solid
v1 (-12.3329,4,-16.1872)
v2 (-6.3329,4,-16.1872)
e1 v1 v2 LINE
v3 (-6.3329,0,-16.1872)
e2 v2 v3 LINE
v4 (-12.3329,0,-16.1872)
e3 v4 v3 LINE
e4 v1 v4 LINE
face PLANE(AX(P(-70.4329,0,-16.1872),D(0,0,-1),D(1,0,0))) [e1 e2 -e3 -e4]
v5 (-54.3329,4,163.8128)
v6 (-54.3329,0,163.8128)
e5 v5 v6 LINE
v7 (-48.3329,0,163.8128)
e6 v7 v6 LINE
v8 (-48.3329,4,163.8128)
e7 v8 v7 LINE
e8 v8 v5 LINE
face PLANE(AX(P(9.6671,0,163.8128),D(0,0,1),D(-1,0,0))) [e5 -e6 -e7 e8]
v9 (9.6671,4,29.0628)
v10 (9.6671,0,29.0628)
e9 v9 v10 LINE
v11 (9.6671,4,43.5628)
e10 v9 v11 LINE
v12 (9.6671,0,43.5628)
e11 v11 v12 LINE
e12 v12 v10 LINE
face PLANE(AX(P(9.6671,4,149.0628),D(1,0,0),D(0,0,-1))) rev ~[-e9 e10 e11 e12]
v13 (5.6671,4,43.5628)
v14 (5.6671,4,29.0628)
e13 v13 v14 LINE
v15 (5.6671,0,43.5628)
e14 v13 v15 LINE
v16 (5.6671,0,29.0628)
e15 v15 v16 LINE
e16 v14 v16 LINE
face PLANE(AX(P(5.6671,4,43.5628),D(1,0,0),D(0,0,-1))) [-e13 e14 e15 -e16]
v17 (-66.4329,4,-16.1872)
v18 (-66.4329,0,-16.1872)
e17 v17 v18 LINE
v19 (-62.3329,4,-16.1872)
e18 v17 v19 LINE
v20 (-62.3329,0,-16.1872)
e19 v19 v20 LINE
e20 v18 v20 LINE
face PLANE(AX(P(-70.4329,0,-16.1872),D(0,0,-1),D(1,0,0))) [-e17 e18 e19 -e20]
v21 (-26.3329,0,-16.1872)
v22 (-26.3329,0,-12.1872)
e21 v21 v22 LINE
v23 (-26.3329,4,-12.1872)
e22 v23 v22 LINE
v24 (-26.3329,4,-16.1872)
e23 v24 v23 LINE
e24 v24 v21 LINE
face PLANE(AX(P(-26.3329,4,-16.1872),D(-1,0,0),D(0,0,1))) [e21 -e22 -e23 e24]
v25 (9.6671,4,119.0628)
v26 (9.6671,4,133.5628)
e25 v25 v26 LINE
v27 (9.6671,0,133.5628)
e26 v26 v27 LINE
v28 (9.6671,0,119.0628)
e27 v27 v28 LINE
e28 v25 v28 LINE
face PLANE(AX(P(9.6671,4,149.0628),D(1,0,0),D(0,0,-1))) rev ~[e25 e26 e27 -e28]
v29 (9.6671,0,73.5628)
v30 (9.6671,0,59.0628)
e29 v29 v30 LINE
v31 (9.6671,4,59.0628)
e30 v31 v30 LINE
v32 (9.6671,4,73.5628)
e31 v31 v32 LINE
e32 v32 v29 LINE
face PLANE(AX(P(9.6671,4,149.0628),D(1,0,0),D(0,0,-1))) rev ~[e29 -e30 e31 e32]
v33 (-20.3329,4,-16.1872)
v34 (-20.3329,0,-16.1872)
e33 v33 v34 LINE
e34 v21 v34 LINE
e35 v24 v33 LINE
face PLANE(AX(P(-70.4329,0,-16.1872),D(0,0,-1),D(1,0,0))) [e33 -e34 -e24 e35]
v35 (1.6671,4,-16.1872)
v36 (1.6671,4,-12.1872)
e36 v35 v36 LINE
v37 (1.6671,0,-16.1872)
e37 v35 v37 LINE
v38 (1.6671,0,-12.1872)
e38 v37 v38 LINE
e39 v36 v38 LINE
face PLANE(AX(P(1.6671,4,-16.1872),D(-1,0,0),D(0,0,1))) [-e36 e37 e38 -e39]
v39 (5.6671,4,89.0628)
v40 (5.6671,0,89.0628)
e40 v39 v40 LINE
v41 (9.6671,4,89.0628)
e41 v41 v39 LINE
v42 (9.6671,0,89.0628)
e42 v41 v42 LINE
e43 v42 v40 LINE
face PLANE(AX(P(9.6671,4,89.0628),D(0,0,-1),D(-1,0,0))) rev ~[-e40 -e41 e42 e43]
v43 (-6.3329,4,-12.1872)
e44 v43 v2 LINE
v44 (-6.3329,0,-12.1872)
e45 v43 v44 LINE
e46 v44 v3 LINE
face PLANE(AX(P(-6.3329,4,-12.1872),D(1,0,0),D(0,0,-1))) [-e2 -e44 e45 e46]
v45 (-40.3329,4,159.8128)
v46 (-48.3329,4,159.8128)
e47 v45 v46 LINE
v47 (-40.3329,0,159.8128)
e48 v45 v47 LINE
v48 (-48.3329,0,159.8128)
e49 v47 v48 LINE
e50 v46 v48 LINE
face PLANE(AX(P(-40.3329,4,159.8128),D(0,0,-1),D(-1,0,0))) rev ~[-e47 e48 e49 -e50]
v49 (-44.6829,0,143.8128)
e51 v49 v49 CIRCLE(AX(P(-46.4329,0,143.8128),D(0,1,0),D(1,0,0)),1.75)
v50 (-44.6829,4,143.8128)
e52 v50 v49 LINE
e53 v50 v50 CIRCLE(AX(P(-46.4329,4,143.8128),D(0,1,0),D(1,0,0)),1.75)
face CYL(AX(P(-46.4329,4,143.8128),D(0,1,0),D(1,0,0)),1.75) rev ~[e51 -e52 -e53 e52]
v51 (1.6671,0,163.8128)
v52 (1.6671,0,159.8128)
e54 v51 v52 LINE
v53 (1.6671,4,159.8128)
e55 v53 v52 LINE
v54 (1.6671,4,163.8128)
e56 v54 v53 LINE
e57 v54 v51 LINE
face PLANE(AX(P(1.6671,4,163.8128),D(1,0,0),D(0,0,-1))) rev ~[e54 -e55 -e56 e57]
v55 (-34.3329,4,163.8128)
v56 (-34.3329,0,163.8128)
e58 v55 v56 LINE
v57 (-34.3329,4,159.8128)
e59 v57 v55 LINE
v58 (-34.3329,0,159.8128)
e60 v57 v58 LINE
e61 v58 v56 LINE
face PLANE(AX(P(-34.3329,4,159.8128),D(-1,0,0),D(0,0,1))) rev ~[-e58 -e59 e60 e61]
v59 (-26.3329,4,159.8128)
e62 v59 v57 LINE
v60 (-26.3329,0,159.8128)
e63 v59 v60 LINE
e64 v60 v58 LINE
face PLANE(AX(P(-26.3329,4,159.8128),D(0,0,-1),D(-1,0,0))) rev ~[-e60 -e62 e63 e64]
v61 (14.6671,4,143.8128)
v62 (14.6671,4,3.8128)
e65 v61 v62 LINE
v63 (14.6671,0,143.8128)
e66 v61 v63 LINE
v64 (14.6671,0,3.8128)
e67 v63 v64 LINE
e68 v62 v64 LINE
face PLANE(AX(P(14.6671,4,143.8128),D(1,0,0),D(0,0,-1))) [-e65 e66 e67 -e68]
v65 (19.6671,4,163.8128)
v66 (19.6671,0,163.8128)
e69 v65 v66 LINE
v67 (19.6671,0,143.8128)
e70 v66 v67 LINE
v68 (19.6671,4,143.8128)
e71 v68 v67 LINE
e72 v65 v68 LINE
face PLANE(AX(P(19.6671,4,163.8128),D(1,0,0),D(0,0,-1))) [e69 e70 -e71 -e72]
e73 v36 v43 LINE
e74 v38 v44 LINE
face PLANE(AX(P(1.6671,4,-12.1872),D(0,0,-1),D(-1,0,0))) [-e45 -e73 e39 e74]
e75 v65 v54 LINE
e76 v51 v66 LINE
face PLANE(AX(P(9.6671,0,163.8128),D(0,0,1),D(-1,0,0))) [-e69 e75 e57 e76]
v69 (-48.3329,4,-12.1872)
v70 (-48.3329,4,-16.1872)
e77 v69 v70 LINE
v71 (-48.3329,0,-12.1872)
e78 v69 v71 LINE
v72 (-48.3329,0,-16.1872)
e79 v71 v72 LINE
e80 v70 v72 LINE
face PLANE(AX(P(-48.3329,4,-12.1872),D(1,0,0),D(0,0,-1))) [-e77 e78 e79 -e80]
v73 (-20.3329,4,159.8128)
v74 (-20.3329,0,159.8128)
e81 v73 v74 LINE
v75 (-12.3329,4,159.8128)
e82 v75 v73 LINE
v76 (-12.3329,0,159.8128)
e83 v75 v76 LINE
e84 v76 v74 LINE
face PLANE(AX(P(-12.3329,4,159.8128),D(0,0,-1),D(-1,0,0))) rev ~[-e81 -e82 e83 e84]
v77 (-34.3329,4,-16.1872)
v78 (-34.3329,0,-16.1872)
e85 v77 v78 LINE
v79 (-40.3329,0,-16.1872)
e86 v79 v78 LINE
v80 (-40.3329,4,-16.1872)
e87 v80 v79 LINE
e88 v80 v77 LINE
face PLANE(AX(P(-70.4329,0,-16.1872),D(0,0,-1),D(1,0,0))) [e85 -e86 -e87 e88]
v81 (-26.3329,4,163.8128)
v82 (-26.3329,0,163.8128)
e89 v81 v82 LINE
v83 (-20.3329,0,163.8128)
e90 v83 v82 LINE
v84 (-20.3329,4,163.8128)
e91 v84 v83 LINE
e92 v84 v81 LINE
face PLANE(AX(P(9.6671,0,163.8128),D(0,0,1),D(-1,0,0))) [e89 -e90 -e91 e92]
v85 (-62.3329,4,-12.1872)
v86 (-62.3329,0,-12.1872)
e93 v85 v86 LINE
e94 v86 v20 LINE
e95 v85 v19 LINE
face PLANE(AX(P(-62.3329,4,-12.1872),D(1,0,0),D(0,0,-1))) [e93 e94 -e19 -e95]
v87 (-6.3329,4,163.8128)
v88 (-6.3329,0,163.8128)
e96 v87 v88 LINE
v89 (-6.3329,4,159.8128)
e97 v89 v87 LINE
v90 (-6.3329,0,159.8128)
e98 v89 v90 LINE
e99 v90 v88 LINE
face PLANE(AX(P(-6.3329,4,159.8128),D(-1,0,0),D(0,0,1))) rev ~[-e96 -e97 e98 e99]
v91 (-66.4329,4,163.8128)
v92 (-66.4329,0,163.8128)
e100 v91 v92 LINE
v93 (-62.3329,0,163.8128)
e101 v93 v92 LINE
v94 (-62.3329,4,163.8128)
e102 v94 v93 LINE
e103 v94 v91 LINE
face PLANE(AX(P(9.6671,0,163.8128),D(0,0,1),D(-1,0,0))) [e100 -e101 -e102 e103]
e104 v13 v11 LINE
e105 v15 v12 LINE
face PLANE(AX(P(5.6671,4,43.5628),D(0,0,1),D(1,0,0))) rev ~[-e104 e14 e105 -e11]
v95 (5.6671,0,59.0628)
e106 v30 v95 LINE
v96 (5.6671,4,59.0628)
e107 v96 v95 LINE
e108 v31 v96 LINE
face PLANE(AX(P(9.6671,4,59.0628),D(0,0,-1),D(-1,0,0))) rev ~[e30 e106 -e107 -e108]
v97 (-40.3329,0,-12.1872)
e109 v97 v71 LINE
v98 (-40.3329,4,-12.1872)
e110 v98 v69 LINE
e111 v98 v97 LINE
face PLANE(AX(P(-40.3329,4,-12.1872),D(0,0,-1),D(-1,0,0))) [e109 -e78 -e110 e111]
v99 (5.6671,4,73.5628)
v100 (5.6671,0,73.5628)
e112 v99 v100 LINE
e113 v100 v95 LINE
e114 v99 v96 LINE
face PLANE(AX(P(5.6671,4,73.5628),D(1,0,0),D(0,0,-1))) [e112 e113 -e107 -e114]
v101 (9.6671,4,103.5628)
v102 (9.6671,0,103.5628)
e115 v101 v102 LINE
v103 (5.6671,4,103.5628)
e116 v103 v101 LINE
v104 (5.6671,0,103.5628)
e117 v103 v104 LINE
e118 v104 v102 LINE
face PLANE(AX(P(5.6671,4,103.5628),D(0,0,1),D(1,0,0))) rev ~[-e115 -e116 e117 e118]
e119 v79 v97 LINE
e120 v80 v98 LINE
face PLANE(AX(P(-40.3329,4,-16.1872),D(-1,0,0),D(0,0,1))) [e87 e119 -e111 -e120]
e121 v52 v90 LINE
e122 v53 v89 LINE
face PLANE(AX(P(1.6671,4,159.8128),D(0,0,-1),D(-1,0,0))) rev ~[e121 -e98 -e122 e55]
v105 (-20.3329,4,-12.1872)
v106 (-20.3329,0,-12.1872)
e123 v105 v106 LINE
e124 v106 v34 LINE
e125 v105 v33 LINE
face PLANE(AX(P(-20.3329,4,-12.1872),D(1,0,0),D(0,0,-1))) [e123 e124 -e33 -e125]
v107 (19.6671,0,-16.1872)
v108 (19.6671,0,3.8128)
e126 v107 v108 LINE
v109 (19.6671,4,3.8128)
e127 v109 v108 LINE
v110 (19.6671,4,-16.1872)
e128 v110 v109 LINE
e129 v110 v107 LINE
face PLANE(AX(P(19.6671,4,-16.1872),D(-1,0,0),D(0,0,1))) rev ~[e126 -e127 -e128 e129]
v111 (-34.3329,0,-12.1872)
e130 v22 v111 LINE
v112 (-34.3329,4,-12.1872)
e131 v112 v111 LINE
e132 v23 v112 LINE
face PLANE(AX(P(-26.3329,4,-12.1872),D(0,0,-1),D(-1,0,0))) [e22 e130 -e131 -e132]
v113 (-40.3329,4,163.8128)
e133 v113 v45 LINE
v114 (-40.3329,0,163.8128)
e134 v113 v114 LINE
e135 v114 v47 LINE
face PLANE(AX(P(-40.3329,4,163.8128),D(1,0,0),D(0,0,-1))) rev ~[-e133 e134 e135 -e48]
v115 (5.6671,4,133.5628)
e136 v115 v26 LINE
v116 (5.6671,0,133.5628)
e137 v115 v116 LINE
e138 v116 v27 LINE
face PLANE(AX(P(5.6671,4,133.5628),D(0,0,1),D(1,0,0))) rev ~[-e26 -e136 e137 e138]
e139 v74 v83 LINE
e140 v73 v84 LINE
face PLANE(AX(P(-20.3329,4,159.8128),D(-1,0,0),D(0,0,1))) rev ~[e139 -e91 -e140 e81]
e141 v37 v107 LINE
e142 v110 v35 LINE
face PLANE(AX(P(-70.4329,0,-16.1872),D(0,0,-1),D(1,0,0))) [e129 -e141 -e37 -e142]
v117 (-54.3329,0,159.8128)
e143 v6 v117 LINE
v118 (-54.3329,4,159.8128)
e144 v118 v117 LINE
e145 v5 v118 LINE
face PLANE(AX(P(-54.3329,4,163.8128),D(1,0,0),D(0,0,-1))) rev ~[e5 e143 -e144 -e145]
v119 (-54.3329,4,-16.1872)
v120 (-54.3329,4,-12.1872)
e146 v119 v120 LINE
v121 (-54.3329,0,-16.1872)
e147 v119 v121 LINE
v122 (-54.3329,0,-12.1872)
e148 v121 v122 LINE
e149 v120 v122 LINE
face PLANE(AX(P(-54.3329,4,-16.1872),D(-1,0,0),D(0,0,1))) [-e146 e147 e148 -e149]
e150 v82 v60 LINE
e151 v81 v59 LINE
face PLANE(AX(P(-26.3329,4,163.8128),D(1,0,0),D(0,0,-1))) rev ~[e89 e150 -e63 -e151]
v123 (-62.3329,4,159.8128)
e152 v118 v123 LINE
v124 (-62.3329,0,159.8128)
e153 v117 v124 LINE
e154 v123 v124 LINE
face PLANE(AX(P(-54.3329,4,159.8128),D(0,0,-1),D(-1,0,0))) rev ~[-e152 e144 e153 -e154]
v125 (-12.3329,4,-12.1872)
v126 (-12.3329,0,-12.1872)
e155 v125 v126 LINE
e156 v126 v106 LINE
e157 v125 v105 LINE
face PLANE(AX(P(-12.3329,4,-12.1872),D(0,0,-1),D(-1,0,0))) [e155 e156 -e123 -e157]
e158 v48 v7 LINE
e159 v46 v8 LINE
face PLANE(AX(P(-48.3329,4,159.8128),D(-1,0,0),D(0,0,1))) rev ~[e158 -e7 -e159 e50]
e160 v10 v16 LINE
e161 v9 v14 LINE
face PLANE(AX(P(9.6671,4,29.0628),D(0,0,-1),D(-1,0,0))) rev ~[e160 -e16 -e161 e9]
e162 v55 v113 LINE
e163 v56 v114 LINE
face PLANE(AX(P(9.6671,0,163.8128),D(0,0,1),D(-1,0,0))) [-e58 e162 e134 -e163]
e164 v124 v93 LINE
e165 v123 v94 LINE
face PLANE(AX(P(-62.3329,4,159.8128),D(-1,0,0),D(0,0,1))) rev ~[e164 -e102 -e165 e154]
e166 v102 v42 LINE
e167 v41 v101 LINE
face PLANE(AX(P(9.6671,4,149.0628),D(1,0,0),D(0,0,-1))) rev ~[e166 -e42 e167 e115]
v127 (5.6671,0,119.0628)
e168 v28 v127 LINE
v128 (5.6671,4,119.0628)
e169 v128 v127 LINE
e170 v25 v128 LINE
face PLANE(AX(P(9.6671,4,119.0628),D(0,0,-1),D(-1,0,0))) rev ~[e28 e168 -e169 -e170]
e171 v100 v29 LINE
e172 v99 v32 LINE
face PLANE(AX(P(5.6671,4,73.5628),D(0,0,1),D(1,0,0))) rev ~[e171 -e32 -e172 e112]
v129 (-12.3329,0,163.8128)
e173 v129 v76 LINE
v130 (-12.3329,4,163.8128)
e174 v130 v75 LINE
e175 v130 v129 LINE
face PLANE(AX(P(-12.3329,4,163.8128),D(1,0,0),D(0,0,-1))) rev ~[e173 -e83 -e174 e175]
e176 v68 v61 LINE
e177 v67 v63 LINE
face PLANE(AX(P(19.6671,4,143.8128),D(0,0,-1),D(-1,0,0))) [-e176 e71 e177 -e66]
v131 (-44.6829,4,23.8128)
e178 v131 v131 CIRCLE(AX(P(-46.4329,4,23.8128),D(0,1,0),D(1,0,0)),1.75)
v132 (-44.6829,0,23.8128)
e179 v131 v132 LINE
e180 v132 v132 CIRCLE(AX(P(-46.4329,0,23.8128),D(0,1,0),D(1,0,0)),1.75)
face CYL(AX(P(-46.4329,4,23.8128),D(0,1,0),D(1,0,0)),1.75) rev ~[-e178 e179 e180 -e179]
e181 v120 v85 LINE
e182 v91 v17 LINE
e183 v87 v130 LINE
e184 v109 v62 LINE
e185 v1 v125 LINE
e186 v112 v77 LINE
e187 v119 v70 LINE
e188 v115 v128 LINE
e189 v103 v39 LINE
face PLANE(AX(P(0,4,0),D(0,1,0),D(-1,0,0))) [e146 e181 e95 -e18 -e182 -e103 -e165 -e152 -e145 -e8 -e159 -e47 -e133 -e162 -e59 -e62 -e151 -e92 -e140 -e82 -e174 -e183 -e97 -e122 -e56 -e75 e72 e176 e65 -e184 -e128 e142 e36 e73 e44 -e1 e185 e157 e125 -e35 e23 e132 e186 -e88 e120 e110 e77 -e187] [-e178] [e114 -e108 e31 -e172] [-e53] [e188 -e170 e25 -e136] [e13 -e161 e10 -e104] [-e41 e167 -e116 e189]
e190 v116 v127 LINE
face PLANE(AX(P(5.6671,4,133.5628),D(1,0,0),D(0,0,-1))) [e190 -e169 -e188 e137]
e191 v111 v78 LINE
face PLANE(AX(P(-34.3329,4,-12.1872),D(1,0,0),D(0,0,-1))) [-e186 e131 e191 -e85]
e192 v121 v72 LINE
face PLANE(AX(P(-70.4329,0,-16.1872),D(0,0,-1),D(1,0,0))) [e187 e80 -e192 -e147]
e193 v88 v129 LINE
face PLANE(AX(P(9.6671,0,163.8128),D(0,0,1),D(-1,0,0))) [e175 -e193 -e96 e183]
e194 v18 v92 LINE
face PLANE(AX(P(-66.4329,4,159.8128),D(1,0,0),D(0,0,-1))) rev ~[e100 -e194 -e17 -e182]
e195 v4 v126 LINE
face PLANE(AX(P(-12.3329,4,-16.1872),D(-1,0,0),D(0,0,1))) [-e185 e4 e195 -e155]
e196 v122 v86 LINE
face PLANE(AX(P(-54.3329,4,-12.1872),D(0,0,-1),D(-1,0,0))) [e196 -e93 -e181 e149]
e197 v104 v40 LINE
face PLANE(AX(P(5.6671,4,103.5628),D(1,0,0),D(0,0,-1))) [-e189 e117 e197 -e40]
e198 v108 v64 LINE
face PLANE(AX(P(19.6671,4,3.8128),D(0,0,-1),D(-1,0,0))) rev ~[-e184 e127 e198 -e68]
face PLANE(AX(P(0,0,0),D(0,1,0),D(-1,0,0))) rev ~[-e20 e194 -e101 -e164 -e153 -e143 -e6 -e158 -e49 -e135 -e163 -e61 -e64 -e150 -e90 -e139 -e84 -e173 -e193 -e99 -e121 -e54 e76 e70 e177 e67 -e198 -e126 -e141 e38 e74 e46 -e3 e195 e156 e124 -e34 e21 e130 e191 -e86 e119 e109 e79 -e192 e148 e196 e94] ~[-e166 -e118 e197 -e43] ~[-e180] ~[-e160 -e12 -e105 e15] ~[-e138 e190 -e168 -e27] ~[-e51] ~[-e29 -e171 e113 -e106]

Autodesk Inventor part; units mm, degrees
ref_plane "YZ Plane" through (0, 0, 0) normal (1, 0, 0) x (0, 1, 0)
ref_plane "XZ Plane" through (0, 0, 0) normal (0, 1, 0) x (-1, 0, 0)
ref_plane "XY Plane" through (0, 0, 0) normal (0, 0, 1) x (1, 0, 0)
sketch "Sketch1" plane through (0, 0, 0) normal (0, 1, 0) x (-1, 0, 0)
  line L0 (-9.6671, 163.8128) -> (70.4329, 163.8128)
  line L1 (70.4329, 163.8128) -> (70.4329, -16.1872)
  line L2 (70.4329, -16.1872) -> (-9.6671, -16.1872)
  line L3 (-9.6671, -16.1872) -> (-9.6671, 163.8128)
  point P0 (0, 0)
extrude "Extrusion1" add sketch "Sketch1" along normal blind 4
sketch "Sketch2" plane through (0, 4, 0) normal (0, 1, 0) x (1, 0, 0)
  line L0 (-66.4329, -159.8128) -> (-66.4329, -148.8128)
  line L1 (-70.4329, -159.8128) -> (-70.4329, -148.8128)
  line L2 (-66.4329, -159.8128) -> (-66.4329, -148.8128) projected
  line L3 (-70.4329, -159.8128) -> (-70.4329, -148.8128) projected
  line L4 (-70.4329, -159.8128) -> (-70.4329, -148.8128) projected
  line L5 (-70.4329, -163.8128) -> (9.6671, -163.8128) projected
  line L6 (-30.3829, -163.8128) -> (-30.3829, 16.1872) construction
  line L7 (9.6671, 16.1872) -> (-70.4329, 16.1872) projected
  line L8 (-70.4329, 0.9372) -> (-66.4329, 0.9372)
  line L9 (-66.4329, -13.5628) -> (-70.4329, -13.5628)
  line L10 (-66.4329, -43.5628) -> (-70.4329, -43.5628)
  line L11 (-70.4329, -29.0628) -> (-66.4329, -29.0628)
  line L12 (-66.4329, -73.5628) -> (-70.4329, -73.5628)
  line L13 (-70.4329, -59.0628) -> (-66.4329, -59.0628)
  line L14 (-66.4329, -103.5628) -> (-70.4329, -103.5628)
  line L15 (-70.4329, -89.0628) -> (-66.4329, -89.0628)
  line L16 (-66.4329, -133.5628) -> (-70.4329, -133.5628)
  line L17 (-70.4329, -119.0628) -> (-66.4329, -119.0628)
  line L18 (5.6671, -159.8128) -> (5.6671, -148.8128)
  line L19 (9.6671, -159.8128) -> (9.6671, -148.8128)
  line L20 (5.6671, -133.8128) -> (5.6671, -118.8128)
  line L21 (9.6671, -133.8128) -> (9.6671, -118.8128)
  line L22 (5.6671, -103.8128) -> (5.6671, -88.8128)
  line L23 (9.6671, -103.8128) -> (9.6671, -88.8128)
  line L24 (5.6671, -73.8128) -> (5.6671, -58.8128)
  line L25 (9.6671, -73.8128) -> (9.6671, -58.8128)
  line L26 (5.6671, -43.8128) -> (5.6671, -28.8128)
  line L27 (9.6671, -43.8128) -> (9.6671, -28.8128)
  line L28 (5.6671, -13.8128) -> (5.6671, 1.1872)
  line L29 (9.6671, -13.8128) -> (9.6671, 1.1872)
  line L30 (9.6671, -149.0628) -> (5.6671, -149.0628)
  line L31 (5.6671, -159.5628) -> (9.6671, -159.5628)
  line L32 (9.6671, 0.9372) -> (5.6671, 0.9372)
  line L33 (5.6671, -13.5628) -> (9.6671, -13.5628)
  line L34 (5.6671, -43.5628) -> (9.6671, -43.5628)
  line L35 (9.6671, -29.0628) -> (5.6671, -29.0628)
  line L36 (5.6671, -73.5628) -> (9.6671, -73.5628)
  line L37 (9.6671, -59.0628) -> (5.6671, -59.0628)
  line L38 (5.6671, -103.5628) -> (9.6671, -103.5628)
  line L39 (9.6671, -89.0628) -> (5.6671, -89.0628)
  line L40 (5.6671, -133.5628) -> (9.6671, -133.5628)
  line L41 (9.6671, -119.0628) -> (5.6671, -119.0628)
  line L42 (-66.4329, -148.8128) -> (-70.4329, -148.8128)
  line L43 (-66.4329, -159.8128) -> (-70.4329, -159.8128)
  line L44 (-66.4329, -148.8128) -> (-70.4329, -148.8128)
  line L45 (-66.4329, -159.8128) -> (-70.4329, -159.8128) projected
  line L46 (-66.4329, -163.8128) -> (-66.4329, -89.0628)
  line L47 (-66.4329, -103.5628) -> (-66.4329, -73.5628)
  line L48 (-66.4329, -89.0628) -> (-66.4329, -43.5628)
  line L49 (-66.4329, -43.5628) -> (-66.4329, -13.5628)
  line L50 (-66.4329, -13.5628) -> (-66.4329, 16.1872)
  line L51 (-70.4329, 16.1872) -> (-70.4329, -163.8128) projected
  line L52 (9.6671, -163.8128) -> (9.6671, 16.1872) projected
  line L53 (1.6671, 16.1872) -> (1.6671, 12.1872)
  line L54 (1.6671, 12.1872) -> (-6.3329, 12.1872)
  line L55 (-6.3329, 12.1872) -> (-6.3329, 16.1872)
  line L56 (-12.3329, 16.1872) -> (-12.3329, 12.1872)
  line L57 (-12.3329, 12.1872) -> (-20.3329, 12.1872)
  line L58 (-20.3329, 12.1872) -> (-20.3329, 16.1872)
  line L59 (-26.3329, 16.1872) -> (-26.3329, 12.1872)
  line L60 (-26.3329, 12.1872) -> (-34.3329, 12.1872)
  line L61 (-34.3329, 12.1872) -> (-34.3329, 16.1872)
  line L62 (-40.3329, 16.1872) -> (-40.3329, 12.1872)
  line L63 (-40.3329, 12.1872) -> (-48.3329, 12.1872)
  line L64 (-48.3329, 12.1872) -> (-48.3329, 16.1872)
  line L65 (-54.3329, 16.1872) -> (-54.3329, 12.1872)
  line L66 (-54.3329, 12.1872) -> (-62.3329, 12.1872)
  line L67 (-62.3329, 12.1872) -> (-62.3329, 16.1872)
  line L68 (-12.3329, -73.8128) -> (-48.4329, -73.8128) construction
  line L69 (1.6671, -163.8128) -> (1.6671, -159.8128)
  line L70 (1.6671, -159.8128) -> (-6.3329, -159.8128)
  line L71 (-6.3329, -159.8128) -> (-6.3329, -163.8128)
  line L72 (-12.3329, -163.8128) -> (-12.3329, -159.8128)
  line L73 (-12.3329, -159.8128) -> (-20.3329, -159.8128)
  line L74 (-20.3329, -159.8128) -> (-20.3329, -163.8128)
  line L75 (-26.3329, -163.8128) -> (-26.3329, -159.8128)
  line L76 (-26.3329, -159.8128) -> (-34.3329, -159.8128)
  line L77 (-34.3329, -159.8128) -> (-34.3329, -163.8128)
  line L78 (-40.3329, -163.8128) -> (-40.3329, -159.8128)
  line L79 (-40.3329, -159.8128) -> (-48.3329, -159.8128)
  line L80 (-48.3329, -159.8128) -> (-48.3329, -163.8128)
  line L81 (-54.3329, -163.8128) -> (-54.3329, -159.8128)
  line L82 (-54.3329, -159.8128) -> (-62.3329, -159.8128)
  line L83 (-62.3329, -159.8128) -> (-62.3329, -163.8128)
  circle A0 centre (-46.4329, -23.8128) radius 1.75
  circle A1 centre (-46.4329, -143.8128) radius 1.75
  point P0 (0, 0)
  point P1 (-66.4329, -43.5628)
  point P2 (-30.3829, -73.8128)
  dimension "d6" = 30
  dimension "d13" = 4
  dimension "d14" = 8
  dimension "d15" = 4
  dimension "d16" = 8
  dimension "d19" = 14
  dimension "d24" = 180
  dimension "d30" = 3.5
  dimension "d32" = 40
  dimension "d34" = 20
extrude "Extrusion2" cut sketch "Sketch2" against normal up to surface (4 mm away) contours L43 L1 L42 L0 | L46 L5 L51 L43 | L42 L51 L16 L46 | L16 L51 L17 L46 | L83 L82 L81 L5 | L17 L51 L14 L46 | L14 L51 L15 L46 | L80 L79 L78 L5 | L15 L51 L12 L47 | L12 L51 L13 L48 | L77 L76 L75 L5 | L13 L51 L10 L48 | L10 L51 L11 L49 | L74 L73 L72 L5 | L11 L51 L9 L49 | L9 L51 L8 L50 | L71 L70 L69 L5 | L8 L51 L7 L50 | L7 L65 L66 L67 | L31 L18 L30 L19 | L7 L62 L63 L64 | L7 L59 L60 L61 | L40 L20 L41 L21 | L7 L56 L57 L58 | L7 L53 L54 L55 | L38 L22 L39 L23 | L29 L33 L28 L32 | L36 L24 L37 L25 | L27 L34 L26 L35 | A0 | A1
sketch "Sketch4" plane through (0, 4, 0) normal (0, 1, 0) x (1, 0, 0)
  line L0 (9.6671, -159.5628) -> (5.6671, -159.5628) projected
  line L1 (9.6671, -149.0628) -> (9.6671, -133.5628) projected
  line L2 (5.6671, -159.5628) -> (9.6671, -159.5628)
  line L3 (9.6671, -159.5628) -> (9.6671, -149.0628)
  line L4 (9.6671, -149.0628) -> (5.6671, -149.0628)
  line L5 (5.6671, -149.0628) -> (5.6671, -159.5628)
  line L6 (5.6671, -13.5628) -> (5.6671, 0.9372) projected
  line L7 (9.6671, -13.5628) -> (5.6671, -13.5628)
  line L8 (5.6671, -13.5628) -> (5.6671, 0.9372)
  line L9 (5.6671, 0.9372) -> (9.6671, 0.9372)
  line L10 (9.6671, 0.9372) -> (9.6671, -133.5628)
  line L11 (9.6671, -13.5628) -> (5.6671, -13.5628) projected
  line L12 (1.6671, -163.8128) -> (9.6671, -163.8128) projected
  line L13 (9.6671, -163.8128) -> (19.6671, -163.8128)
  line L14 (19.6671, -163.8128) -> (19.6671, -143.8128)
  line L15 (19.6671, -143.8128) -> (9.6671, -143.8128)
  line L16 (9.6671, -143.8128) -> (9.6671, -163.8128)
  line L17 (9.6671, 16.1872) -> (1.6671, 16.1872) projected
  line L18 (9.6671, 16.1872) -> (19.6671, 16.1872)
  line L19 (19.6671, 16.1872) -> (19.6671, -3.8128)
  line L20 (19.6671, -3.8128) -> (9.6671, -3.8128)
  line L21 (9.6671, -3.8128) -> (9.6671, 16.1872)
  line L22 (14.6671, -143.8128) -> (14.6671, -3.8128)
  line L23 (-40.3329, -159.8128) -> (-40.3329, -163.8128) projected
  line L24 (-40.3329, -163.8128) -> (-34.3329, -163.8128) projected
  line L25 (-34.3329, -163.8128) -> (-34.3329, -159.8128) projected
  line L26 (-34.3329, -159.8128) -> (-26.3329, -159.8128) projected
  line L27 (-26.3329, -159.8128) -> (-26.3329, -163.8128) projected
  line L28 (-26.3329, -163.8128) -> (-20.3329, -163.8128) projected
  line L29 (-20.3329, -163.8128) -> (-20.3329, -159.8128) projected
  line L30 (-20.3329, -159.8128) -> (-12.3329, -159.8128) projected
  line L31 (-12.3329, -159.8128) -> (-12.3329, -163.8128) projected
  line L32 (-12.3329, -163.8128) -> (-6.3329, -163.8128) projected
  line L33 (-6.3329, -163.8128) -> (-6.3329, -159.8128) projected
  line L34 (-6.3329, -159.8128) -> (1.6671, -159.8128) projected
  line L35 (1.6671, -159.8128) -> (1.6671, -163.8128) projected
  line L36 (1.6671, -163.8128) -> (9.6671, -163.8128) projected
  line L37 (9.6671, -163.8128) -> (9.6671, -159.5628) projected
  line L38 (9.6671, -159.5628) -> (5.6671, -159.5628) projected
  line L39 (5.6671, -159.5628) -> (5.6671, -149.0628) projected
  line L40 (5.6671, -149.0628) -> (9.6671, -149.0628) projected
  line L41 (9.6671, -149.0628) -> (9.6671, -133.5628) projected
  line L42 (9.6671, -133.5628) -> (5.6671, -133.5628) projected
  line L43 (5.6671, -133.5628) -> (5.6671, -119.0628) projected
  line L44 (5.6671, -119.0628) -> (9.6671, -119.0628) projected
  line L45 (9.6671, -119.0628) -> (9.6671, -103.5628) projected
  line L46 (9.6671, -103.5628) -> (5.6671, -103.5628) projected
  line L47 (5.6671, -103.5628) -> (5.6671, -89.0628) projected
  line L48 (5.6671, -89.0628) -> (9.6671, -89.0628) projected
  line L49 (9.6671, -89.0628) -> (9.6671, -73.5628) projected
  line L50 (9.6671, -73.5628) -> (5.6671, -73.5628) projected
  line L51 (5.6671, -73.5628) -> (5.6671, -59.0628) projected
  line L52 (5.6671, -59.0628) -> (9.6671, -59.0628) projected
  line L53 (9.6671, -59.0628) -> (9.6671, -43.5628) projected
  line L54 (9.6671, -43.5628) -> (5.6671, -43.5628) projected
  line L55 (5.6671, -43.5628) -> (5.6671, -29.0628) projected
  line L56 (5.6671, -29.0628) -> (9.6671, -29.0628) projected
  line L57 (9.6671, -29.0628) -> (9.6671, -13.5628) projected
  line L58 (9.6671, -13.5628) -> (5.6671, -13.5628) projected
  line L59 (5.6671, -13.5628) -> (5.6671, 0.9372) projected
  line L60 (5.6671, 0.9372) -> (9.6671, 0.9372) projected
  line L61 (9.6671, 0.9372) -> (9.6671, 16.1872) projected
  line L62 (9.6671, 16.1872) -> (1.6671, 16.1872) projected
  line L63 (1.6671, 16.1872) -> (1.6671, 12.1872) projected
  line L64 (1.6671, 12.1872) -> (-6.3329, 12.1872) projected
  line L65 (-6.3329, 12.1872) -> (-6.3329, 16.1872) projected
  line L66 (-6.3329, 16.1872) -> (-12.3329, 16.1872) projected
  line L67 (-12.3329, 16.1872) -> (-12.3329, 12.1872) projected
  line L68 (-12.3329, 12.1872) -> (-20.3329, 12.1872) projected
  line L69 (-20.3329, 12.1872) -> (-20.3329, 16.1872) projected
  line L70 (-20.3329, 16.1872) -> (-26.3329, 16.1872) projected
  line L71 (-26.3329, 16.1872) -> (-26.3329, 12.1872) projected
  line L72 (-26.3329, 12.1872) -> (-34.3329, 12.1872) projected
  line L73 (-34.3329, 12.1872) -> (-34.3329, 16.1872) projected
  line L74 (-34.3329, 16.1872) -> (-40.3329, 16.1872) projected
  line L75 (-40.3329, 16.1872) -> (-40.3329, 12.1872) projected
  line L76 (-40.3329, 12.1872) -> (-48.3329, 12.1872) projected
  line L77 (-48.3329, 12.1872) -> (-48.3329, 16.1872) projected
  line L78 (-48.3329, 16.1872) -> (-54.3329, 16.1872) projected
  line L79 (-54.3329, 16.1872) -> (-54.3329, 12.1872) projected
  line L80 (-54.3329, 12.1872) -> (-62.3329, 12.1872) projected
  line L81 (-62.3329, 12.1872) -> (-62.3329, 16.1872) projected
  line L82 (-62.3329, 16.1872) -> (-66.4329, 16.1872) projected
  line L83 (-66.4329, -163.8128) -> (-62.3329, -163.8128) projected
  line L84 (-62.3329, -163.8128) -> (-62.3329, -159.8128) projected
  line L85 (-62.3329, -159.8128) -> (-54.3329, -159.8128) projected
  line L86 (-54.3329, -159.8128) -> (-54.3329, -163.8128) projected
  line L87 (-54.3329, -163.8128) -> (-48.3329, -163.8128) projected
  line L88 (-48.3329, -163.8128) -> (-48.3329, -159.8128) projected
  line L89 (-48.3329, -159.8128) -> (-40.3329, -159.8128) projected
  line L90 (-66.4329, 16.1872) -> (-66.4329, -163.8128) projected
  point P0 (0, 0)
  dimension "d25" = 10
  dimension "d26" = 20
  dimension "d29" = 5
extrude "Extrusion3" add sketch "Sketch4" against normal up to surface (4 mm away) contours L0 L5 L4 L3 | L3 L1 L15 L14 L13 L16 | L1 L10 L20 L22 L15 | L20 L10 L21 L18 L19 | L10 L7 L6 L9
properties part number "side"
